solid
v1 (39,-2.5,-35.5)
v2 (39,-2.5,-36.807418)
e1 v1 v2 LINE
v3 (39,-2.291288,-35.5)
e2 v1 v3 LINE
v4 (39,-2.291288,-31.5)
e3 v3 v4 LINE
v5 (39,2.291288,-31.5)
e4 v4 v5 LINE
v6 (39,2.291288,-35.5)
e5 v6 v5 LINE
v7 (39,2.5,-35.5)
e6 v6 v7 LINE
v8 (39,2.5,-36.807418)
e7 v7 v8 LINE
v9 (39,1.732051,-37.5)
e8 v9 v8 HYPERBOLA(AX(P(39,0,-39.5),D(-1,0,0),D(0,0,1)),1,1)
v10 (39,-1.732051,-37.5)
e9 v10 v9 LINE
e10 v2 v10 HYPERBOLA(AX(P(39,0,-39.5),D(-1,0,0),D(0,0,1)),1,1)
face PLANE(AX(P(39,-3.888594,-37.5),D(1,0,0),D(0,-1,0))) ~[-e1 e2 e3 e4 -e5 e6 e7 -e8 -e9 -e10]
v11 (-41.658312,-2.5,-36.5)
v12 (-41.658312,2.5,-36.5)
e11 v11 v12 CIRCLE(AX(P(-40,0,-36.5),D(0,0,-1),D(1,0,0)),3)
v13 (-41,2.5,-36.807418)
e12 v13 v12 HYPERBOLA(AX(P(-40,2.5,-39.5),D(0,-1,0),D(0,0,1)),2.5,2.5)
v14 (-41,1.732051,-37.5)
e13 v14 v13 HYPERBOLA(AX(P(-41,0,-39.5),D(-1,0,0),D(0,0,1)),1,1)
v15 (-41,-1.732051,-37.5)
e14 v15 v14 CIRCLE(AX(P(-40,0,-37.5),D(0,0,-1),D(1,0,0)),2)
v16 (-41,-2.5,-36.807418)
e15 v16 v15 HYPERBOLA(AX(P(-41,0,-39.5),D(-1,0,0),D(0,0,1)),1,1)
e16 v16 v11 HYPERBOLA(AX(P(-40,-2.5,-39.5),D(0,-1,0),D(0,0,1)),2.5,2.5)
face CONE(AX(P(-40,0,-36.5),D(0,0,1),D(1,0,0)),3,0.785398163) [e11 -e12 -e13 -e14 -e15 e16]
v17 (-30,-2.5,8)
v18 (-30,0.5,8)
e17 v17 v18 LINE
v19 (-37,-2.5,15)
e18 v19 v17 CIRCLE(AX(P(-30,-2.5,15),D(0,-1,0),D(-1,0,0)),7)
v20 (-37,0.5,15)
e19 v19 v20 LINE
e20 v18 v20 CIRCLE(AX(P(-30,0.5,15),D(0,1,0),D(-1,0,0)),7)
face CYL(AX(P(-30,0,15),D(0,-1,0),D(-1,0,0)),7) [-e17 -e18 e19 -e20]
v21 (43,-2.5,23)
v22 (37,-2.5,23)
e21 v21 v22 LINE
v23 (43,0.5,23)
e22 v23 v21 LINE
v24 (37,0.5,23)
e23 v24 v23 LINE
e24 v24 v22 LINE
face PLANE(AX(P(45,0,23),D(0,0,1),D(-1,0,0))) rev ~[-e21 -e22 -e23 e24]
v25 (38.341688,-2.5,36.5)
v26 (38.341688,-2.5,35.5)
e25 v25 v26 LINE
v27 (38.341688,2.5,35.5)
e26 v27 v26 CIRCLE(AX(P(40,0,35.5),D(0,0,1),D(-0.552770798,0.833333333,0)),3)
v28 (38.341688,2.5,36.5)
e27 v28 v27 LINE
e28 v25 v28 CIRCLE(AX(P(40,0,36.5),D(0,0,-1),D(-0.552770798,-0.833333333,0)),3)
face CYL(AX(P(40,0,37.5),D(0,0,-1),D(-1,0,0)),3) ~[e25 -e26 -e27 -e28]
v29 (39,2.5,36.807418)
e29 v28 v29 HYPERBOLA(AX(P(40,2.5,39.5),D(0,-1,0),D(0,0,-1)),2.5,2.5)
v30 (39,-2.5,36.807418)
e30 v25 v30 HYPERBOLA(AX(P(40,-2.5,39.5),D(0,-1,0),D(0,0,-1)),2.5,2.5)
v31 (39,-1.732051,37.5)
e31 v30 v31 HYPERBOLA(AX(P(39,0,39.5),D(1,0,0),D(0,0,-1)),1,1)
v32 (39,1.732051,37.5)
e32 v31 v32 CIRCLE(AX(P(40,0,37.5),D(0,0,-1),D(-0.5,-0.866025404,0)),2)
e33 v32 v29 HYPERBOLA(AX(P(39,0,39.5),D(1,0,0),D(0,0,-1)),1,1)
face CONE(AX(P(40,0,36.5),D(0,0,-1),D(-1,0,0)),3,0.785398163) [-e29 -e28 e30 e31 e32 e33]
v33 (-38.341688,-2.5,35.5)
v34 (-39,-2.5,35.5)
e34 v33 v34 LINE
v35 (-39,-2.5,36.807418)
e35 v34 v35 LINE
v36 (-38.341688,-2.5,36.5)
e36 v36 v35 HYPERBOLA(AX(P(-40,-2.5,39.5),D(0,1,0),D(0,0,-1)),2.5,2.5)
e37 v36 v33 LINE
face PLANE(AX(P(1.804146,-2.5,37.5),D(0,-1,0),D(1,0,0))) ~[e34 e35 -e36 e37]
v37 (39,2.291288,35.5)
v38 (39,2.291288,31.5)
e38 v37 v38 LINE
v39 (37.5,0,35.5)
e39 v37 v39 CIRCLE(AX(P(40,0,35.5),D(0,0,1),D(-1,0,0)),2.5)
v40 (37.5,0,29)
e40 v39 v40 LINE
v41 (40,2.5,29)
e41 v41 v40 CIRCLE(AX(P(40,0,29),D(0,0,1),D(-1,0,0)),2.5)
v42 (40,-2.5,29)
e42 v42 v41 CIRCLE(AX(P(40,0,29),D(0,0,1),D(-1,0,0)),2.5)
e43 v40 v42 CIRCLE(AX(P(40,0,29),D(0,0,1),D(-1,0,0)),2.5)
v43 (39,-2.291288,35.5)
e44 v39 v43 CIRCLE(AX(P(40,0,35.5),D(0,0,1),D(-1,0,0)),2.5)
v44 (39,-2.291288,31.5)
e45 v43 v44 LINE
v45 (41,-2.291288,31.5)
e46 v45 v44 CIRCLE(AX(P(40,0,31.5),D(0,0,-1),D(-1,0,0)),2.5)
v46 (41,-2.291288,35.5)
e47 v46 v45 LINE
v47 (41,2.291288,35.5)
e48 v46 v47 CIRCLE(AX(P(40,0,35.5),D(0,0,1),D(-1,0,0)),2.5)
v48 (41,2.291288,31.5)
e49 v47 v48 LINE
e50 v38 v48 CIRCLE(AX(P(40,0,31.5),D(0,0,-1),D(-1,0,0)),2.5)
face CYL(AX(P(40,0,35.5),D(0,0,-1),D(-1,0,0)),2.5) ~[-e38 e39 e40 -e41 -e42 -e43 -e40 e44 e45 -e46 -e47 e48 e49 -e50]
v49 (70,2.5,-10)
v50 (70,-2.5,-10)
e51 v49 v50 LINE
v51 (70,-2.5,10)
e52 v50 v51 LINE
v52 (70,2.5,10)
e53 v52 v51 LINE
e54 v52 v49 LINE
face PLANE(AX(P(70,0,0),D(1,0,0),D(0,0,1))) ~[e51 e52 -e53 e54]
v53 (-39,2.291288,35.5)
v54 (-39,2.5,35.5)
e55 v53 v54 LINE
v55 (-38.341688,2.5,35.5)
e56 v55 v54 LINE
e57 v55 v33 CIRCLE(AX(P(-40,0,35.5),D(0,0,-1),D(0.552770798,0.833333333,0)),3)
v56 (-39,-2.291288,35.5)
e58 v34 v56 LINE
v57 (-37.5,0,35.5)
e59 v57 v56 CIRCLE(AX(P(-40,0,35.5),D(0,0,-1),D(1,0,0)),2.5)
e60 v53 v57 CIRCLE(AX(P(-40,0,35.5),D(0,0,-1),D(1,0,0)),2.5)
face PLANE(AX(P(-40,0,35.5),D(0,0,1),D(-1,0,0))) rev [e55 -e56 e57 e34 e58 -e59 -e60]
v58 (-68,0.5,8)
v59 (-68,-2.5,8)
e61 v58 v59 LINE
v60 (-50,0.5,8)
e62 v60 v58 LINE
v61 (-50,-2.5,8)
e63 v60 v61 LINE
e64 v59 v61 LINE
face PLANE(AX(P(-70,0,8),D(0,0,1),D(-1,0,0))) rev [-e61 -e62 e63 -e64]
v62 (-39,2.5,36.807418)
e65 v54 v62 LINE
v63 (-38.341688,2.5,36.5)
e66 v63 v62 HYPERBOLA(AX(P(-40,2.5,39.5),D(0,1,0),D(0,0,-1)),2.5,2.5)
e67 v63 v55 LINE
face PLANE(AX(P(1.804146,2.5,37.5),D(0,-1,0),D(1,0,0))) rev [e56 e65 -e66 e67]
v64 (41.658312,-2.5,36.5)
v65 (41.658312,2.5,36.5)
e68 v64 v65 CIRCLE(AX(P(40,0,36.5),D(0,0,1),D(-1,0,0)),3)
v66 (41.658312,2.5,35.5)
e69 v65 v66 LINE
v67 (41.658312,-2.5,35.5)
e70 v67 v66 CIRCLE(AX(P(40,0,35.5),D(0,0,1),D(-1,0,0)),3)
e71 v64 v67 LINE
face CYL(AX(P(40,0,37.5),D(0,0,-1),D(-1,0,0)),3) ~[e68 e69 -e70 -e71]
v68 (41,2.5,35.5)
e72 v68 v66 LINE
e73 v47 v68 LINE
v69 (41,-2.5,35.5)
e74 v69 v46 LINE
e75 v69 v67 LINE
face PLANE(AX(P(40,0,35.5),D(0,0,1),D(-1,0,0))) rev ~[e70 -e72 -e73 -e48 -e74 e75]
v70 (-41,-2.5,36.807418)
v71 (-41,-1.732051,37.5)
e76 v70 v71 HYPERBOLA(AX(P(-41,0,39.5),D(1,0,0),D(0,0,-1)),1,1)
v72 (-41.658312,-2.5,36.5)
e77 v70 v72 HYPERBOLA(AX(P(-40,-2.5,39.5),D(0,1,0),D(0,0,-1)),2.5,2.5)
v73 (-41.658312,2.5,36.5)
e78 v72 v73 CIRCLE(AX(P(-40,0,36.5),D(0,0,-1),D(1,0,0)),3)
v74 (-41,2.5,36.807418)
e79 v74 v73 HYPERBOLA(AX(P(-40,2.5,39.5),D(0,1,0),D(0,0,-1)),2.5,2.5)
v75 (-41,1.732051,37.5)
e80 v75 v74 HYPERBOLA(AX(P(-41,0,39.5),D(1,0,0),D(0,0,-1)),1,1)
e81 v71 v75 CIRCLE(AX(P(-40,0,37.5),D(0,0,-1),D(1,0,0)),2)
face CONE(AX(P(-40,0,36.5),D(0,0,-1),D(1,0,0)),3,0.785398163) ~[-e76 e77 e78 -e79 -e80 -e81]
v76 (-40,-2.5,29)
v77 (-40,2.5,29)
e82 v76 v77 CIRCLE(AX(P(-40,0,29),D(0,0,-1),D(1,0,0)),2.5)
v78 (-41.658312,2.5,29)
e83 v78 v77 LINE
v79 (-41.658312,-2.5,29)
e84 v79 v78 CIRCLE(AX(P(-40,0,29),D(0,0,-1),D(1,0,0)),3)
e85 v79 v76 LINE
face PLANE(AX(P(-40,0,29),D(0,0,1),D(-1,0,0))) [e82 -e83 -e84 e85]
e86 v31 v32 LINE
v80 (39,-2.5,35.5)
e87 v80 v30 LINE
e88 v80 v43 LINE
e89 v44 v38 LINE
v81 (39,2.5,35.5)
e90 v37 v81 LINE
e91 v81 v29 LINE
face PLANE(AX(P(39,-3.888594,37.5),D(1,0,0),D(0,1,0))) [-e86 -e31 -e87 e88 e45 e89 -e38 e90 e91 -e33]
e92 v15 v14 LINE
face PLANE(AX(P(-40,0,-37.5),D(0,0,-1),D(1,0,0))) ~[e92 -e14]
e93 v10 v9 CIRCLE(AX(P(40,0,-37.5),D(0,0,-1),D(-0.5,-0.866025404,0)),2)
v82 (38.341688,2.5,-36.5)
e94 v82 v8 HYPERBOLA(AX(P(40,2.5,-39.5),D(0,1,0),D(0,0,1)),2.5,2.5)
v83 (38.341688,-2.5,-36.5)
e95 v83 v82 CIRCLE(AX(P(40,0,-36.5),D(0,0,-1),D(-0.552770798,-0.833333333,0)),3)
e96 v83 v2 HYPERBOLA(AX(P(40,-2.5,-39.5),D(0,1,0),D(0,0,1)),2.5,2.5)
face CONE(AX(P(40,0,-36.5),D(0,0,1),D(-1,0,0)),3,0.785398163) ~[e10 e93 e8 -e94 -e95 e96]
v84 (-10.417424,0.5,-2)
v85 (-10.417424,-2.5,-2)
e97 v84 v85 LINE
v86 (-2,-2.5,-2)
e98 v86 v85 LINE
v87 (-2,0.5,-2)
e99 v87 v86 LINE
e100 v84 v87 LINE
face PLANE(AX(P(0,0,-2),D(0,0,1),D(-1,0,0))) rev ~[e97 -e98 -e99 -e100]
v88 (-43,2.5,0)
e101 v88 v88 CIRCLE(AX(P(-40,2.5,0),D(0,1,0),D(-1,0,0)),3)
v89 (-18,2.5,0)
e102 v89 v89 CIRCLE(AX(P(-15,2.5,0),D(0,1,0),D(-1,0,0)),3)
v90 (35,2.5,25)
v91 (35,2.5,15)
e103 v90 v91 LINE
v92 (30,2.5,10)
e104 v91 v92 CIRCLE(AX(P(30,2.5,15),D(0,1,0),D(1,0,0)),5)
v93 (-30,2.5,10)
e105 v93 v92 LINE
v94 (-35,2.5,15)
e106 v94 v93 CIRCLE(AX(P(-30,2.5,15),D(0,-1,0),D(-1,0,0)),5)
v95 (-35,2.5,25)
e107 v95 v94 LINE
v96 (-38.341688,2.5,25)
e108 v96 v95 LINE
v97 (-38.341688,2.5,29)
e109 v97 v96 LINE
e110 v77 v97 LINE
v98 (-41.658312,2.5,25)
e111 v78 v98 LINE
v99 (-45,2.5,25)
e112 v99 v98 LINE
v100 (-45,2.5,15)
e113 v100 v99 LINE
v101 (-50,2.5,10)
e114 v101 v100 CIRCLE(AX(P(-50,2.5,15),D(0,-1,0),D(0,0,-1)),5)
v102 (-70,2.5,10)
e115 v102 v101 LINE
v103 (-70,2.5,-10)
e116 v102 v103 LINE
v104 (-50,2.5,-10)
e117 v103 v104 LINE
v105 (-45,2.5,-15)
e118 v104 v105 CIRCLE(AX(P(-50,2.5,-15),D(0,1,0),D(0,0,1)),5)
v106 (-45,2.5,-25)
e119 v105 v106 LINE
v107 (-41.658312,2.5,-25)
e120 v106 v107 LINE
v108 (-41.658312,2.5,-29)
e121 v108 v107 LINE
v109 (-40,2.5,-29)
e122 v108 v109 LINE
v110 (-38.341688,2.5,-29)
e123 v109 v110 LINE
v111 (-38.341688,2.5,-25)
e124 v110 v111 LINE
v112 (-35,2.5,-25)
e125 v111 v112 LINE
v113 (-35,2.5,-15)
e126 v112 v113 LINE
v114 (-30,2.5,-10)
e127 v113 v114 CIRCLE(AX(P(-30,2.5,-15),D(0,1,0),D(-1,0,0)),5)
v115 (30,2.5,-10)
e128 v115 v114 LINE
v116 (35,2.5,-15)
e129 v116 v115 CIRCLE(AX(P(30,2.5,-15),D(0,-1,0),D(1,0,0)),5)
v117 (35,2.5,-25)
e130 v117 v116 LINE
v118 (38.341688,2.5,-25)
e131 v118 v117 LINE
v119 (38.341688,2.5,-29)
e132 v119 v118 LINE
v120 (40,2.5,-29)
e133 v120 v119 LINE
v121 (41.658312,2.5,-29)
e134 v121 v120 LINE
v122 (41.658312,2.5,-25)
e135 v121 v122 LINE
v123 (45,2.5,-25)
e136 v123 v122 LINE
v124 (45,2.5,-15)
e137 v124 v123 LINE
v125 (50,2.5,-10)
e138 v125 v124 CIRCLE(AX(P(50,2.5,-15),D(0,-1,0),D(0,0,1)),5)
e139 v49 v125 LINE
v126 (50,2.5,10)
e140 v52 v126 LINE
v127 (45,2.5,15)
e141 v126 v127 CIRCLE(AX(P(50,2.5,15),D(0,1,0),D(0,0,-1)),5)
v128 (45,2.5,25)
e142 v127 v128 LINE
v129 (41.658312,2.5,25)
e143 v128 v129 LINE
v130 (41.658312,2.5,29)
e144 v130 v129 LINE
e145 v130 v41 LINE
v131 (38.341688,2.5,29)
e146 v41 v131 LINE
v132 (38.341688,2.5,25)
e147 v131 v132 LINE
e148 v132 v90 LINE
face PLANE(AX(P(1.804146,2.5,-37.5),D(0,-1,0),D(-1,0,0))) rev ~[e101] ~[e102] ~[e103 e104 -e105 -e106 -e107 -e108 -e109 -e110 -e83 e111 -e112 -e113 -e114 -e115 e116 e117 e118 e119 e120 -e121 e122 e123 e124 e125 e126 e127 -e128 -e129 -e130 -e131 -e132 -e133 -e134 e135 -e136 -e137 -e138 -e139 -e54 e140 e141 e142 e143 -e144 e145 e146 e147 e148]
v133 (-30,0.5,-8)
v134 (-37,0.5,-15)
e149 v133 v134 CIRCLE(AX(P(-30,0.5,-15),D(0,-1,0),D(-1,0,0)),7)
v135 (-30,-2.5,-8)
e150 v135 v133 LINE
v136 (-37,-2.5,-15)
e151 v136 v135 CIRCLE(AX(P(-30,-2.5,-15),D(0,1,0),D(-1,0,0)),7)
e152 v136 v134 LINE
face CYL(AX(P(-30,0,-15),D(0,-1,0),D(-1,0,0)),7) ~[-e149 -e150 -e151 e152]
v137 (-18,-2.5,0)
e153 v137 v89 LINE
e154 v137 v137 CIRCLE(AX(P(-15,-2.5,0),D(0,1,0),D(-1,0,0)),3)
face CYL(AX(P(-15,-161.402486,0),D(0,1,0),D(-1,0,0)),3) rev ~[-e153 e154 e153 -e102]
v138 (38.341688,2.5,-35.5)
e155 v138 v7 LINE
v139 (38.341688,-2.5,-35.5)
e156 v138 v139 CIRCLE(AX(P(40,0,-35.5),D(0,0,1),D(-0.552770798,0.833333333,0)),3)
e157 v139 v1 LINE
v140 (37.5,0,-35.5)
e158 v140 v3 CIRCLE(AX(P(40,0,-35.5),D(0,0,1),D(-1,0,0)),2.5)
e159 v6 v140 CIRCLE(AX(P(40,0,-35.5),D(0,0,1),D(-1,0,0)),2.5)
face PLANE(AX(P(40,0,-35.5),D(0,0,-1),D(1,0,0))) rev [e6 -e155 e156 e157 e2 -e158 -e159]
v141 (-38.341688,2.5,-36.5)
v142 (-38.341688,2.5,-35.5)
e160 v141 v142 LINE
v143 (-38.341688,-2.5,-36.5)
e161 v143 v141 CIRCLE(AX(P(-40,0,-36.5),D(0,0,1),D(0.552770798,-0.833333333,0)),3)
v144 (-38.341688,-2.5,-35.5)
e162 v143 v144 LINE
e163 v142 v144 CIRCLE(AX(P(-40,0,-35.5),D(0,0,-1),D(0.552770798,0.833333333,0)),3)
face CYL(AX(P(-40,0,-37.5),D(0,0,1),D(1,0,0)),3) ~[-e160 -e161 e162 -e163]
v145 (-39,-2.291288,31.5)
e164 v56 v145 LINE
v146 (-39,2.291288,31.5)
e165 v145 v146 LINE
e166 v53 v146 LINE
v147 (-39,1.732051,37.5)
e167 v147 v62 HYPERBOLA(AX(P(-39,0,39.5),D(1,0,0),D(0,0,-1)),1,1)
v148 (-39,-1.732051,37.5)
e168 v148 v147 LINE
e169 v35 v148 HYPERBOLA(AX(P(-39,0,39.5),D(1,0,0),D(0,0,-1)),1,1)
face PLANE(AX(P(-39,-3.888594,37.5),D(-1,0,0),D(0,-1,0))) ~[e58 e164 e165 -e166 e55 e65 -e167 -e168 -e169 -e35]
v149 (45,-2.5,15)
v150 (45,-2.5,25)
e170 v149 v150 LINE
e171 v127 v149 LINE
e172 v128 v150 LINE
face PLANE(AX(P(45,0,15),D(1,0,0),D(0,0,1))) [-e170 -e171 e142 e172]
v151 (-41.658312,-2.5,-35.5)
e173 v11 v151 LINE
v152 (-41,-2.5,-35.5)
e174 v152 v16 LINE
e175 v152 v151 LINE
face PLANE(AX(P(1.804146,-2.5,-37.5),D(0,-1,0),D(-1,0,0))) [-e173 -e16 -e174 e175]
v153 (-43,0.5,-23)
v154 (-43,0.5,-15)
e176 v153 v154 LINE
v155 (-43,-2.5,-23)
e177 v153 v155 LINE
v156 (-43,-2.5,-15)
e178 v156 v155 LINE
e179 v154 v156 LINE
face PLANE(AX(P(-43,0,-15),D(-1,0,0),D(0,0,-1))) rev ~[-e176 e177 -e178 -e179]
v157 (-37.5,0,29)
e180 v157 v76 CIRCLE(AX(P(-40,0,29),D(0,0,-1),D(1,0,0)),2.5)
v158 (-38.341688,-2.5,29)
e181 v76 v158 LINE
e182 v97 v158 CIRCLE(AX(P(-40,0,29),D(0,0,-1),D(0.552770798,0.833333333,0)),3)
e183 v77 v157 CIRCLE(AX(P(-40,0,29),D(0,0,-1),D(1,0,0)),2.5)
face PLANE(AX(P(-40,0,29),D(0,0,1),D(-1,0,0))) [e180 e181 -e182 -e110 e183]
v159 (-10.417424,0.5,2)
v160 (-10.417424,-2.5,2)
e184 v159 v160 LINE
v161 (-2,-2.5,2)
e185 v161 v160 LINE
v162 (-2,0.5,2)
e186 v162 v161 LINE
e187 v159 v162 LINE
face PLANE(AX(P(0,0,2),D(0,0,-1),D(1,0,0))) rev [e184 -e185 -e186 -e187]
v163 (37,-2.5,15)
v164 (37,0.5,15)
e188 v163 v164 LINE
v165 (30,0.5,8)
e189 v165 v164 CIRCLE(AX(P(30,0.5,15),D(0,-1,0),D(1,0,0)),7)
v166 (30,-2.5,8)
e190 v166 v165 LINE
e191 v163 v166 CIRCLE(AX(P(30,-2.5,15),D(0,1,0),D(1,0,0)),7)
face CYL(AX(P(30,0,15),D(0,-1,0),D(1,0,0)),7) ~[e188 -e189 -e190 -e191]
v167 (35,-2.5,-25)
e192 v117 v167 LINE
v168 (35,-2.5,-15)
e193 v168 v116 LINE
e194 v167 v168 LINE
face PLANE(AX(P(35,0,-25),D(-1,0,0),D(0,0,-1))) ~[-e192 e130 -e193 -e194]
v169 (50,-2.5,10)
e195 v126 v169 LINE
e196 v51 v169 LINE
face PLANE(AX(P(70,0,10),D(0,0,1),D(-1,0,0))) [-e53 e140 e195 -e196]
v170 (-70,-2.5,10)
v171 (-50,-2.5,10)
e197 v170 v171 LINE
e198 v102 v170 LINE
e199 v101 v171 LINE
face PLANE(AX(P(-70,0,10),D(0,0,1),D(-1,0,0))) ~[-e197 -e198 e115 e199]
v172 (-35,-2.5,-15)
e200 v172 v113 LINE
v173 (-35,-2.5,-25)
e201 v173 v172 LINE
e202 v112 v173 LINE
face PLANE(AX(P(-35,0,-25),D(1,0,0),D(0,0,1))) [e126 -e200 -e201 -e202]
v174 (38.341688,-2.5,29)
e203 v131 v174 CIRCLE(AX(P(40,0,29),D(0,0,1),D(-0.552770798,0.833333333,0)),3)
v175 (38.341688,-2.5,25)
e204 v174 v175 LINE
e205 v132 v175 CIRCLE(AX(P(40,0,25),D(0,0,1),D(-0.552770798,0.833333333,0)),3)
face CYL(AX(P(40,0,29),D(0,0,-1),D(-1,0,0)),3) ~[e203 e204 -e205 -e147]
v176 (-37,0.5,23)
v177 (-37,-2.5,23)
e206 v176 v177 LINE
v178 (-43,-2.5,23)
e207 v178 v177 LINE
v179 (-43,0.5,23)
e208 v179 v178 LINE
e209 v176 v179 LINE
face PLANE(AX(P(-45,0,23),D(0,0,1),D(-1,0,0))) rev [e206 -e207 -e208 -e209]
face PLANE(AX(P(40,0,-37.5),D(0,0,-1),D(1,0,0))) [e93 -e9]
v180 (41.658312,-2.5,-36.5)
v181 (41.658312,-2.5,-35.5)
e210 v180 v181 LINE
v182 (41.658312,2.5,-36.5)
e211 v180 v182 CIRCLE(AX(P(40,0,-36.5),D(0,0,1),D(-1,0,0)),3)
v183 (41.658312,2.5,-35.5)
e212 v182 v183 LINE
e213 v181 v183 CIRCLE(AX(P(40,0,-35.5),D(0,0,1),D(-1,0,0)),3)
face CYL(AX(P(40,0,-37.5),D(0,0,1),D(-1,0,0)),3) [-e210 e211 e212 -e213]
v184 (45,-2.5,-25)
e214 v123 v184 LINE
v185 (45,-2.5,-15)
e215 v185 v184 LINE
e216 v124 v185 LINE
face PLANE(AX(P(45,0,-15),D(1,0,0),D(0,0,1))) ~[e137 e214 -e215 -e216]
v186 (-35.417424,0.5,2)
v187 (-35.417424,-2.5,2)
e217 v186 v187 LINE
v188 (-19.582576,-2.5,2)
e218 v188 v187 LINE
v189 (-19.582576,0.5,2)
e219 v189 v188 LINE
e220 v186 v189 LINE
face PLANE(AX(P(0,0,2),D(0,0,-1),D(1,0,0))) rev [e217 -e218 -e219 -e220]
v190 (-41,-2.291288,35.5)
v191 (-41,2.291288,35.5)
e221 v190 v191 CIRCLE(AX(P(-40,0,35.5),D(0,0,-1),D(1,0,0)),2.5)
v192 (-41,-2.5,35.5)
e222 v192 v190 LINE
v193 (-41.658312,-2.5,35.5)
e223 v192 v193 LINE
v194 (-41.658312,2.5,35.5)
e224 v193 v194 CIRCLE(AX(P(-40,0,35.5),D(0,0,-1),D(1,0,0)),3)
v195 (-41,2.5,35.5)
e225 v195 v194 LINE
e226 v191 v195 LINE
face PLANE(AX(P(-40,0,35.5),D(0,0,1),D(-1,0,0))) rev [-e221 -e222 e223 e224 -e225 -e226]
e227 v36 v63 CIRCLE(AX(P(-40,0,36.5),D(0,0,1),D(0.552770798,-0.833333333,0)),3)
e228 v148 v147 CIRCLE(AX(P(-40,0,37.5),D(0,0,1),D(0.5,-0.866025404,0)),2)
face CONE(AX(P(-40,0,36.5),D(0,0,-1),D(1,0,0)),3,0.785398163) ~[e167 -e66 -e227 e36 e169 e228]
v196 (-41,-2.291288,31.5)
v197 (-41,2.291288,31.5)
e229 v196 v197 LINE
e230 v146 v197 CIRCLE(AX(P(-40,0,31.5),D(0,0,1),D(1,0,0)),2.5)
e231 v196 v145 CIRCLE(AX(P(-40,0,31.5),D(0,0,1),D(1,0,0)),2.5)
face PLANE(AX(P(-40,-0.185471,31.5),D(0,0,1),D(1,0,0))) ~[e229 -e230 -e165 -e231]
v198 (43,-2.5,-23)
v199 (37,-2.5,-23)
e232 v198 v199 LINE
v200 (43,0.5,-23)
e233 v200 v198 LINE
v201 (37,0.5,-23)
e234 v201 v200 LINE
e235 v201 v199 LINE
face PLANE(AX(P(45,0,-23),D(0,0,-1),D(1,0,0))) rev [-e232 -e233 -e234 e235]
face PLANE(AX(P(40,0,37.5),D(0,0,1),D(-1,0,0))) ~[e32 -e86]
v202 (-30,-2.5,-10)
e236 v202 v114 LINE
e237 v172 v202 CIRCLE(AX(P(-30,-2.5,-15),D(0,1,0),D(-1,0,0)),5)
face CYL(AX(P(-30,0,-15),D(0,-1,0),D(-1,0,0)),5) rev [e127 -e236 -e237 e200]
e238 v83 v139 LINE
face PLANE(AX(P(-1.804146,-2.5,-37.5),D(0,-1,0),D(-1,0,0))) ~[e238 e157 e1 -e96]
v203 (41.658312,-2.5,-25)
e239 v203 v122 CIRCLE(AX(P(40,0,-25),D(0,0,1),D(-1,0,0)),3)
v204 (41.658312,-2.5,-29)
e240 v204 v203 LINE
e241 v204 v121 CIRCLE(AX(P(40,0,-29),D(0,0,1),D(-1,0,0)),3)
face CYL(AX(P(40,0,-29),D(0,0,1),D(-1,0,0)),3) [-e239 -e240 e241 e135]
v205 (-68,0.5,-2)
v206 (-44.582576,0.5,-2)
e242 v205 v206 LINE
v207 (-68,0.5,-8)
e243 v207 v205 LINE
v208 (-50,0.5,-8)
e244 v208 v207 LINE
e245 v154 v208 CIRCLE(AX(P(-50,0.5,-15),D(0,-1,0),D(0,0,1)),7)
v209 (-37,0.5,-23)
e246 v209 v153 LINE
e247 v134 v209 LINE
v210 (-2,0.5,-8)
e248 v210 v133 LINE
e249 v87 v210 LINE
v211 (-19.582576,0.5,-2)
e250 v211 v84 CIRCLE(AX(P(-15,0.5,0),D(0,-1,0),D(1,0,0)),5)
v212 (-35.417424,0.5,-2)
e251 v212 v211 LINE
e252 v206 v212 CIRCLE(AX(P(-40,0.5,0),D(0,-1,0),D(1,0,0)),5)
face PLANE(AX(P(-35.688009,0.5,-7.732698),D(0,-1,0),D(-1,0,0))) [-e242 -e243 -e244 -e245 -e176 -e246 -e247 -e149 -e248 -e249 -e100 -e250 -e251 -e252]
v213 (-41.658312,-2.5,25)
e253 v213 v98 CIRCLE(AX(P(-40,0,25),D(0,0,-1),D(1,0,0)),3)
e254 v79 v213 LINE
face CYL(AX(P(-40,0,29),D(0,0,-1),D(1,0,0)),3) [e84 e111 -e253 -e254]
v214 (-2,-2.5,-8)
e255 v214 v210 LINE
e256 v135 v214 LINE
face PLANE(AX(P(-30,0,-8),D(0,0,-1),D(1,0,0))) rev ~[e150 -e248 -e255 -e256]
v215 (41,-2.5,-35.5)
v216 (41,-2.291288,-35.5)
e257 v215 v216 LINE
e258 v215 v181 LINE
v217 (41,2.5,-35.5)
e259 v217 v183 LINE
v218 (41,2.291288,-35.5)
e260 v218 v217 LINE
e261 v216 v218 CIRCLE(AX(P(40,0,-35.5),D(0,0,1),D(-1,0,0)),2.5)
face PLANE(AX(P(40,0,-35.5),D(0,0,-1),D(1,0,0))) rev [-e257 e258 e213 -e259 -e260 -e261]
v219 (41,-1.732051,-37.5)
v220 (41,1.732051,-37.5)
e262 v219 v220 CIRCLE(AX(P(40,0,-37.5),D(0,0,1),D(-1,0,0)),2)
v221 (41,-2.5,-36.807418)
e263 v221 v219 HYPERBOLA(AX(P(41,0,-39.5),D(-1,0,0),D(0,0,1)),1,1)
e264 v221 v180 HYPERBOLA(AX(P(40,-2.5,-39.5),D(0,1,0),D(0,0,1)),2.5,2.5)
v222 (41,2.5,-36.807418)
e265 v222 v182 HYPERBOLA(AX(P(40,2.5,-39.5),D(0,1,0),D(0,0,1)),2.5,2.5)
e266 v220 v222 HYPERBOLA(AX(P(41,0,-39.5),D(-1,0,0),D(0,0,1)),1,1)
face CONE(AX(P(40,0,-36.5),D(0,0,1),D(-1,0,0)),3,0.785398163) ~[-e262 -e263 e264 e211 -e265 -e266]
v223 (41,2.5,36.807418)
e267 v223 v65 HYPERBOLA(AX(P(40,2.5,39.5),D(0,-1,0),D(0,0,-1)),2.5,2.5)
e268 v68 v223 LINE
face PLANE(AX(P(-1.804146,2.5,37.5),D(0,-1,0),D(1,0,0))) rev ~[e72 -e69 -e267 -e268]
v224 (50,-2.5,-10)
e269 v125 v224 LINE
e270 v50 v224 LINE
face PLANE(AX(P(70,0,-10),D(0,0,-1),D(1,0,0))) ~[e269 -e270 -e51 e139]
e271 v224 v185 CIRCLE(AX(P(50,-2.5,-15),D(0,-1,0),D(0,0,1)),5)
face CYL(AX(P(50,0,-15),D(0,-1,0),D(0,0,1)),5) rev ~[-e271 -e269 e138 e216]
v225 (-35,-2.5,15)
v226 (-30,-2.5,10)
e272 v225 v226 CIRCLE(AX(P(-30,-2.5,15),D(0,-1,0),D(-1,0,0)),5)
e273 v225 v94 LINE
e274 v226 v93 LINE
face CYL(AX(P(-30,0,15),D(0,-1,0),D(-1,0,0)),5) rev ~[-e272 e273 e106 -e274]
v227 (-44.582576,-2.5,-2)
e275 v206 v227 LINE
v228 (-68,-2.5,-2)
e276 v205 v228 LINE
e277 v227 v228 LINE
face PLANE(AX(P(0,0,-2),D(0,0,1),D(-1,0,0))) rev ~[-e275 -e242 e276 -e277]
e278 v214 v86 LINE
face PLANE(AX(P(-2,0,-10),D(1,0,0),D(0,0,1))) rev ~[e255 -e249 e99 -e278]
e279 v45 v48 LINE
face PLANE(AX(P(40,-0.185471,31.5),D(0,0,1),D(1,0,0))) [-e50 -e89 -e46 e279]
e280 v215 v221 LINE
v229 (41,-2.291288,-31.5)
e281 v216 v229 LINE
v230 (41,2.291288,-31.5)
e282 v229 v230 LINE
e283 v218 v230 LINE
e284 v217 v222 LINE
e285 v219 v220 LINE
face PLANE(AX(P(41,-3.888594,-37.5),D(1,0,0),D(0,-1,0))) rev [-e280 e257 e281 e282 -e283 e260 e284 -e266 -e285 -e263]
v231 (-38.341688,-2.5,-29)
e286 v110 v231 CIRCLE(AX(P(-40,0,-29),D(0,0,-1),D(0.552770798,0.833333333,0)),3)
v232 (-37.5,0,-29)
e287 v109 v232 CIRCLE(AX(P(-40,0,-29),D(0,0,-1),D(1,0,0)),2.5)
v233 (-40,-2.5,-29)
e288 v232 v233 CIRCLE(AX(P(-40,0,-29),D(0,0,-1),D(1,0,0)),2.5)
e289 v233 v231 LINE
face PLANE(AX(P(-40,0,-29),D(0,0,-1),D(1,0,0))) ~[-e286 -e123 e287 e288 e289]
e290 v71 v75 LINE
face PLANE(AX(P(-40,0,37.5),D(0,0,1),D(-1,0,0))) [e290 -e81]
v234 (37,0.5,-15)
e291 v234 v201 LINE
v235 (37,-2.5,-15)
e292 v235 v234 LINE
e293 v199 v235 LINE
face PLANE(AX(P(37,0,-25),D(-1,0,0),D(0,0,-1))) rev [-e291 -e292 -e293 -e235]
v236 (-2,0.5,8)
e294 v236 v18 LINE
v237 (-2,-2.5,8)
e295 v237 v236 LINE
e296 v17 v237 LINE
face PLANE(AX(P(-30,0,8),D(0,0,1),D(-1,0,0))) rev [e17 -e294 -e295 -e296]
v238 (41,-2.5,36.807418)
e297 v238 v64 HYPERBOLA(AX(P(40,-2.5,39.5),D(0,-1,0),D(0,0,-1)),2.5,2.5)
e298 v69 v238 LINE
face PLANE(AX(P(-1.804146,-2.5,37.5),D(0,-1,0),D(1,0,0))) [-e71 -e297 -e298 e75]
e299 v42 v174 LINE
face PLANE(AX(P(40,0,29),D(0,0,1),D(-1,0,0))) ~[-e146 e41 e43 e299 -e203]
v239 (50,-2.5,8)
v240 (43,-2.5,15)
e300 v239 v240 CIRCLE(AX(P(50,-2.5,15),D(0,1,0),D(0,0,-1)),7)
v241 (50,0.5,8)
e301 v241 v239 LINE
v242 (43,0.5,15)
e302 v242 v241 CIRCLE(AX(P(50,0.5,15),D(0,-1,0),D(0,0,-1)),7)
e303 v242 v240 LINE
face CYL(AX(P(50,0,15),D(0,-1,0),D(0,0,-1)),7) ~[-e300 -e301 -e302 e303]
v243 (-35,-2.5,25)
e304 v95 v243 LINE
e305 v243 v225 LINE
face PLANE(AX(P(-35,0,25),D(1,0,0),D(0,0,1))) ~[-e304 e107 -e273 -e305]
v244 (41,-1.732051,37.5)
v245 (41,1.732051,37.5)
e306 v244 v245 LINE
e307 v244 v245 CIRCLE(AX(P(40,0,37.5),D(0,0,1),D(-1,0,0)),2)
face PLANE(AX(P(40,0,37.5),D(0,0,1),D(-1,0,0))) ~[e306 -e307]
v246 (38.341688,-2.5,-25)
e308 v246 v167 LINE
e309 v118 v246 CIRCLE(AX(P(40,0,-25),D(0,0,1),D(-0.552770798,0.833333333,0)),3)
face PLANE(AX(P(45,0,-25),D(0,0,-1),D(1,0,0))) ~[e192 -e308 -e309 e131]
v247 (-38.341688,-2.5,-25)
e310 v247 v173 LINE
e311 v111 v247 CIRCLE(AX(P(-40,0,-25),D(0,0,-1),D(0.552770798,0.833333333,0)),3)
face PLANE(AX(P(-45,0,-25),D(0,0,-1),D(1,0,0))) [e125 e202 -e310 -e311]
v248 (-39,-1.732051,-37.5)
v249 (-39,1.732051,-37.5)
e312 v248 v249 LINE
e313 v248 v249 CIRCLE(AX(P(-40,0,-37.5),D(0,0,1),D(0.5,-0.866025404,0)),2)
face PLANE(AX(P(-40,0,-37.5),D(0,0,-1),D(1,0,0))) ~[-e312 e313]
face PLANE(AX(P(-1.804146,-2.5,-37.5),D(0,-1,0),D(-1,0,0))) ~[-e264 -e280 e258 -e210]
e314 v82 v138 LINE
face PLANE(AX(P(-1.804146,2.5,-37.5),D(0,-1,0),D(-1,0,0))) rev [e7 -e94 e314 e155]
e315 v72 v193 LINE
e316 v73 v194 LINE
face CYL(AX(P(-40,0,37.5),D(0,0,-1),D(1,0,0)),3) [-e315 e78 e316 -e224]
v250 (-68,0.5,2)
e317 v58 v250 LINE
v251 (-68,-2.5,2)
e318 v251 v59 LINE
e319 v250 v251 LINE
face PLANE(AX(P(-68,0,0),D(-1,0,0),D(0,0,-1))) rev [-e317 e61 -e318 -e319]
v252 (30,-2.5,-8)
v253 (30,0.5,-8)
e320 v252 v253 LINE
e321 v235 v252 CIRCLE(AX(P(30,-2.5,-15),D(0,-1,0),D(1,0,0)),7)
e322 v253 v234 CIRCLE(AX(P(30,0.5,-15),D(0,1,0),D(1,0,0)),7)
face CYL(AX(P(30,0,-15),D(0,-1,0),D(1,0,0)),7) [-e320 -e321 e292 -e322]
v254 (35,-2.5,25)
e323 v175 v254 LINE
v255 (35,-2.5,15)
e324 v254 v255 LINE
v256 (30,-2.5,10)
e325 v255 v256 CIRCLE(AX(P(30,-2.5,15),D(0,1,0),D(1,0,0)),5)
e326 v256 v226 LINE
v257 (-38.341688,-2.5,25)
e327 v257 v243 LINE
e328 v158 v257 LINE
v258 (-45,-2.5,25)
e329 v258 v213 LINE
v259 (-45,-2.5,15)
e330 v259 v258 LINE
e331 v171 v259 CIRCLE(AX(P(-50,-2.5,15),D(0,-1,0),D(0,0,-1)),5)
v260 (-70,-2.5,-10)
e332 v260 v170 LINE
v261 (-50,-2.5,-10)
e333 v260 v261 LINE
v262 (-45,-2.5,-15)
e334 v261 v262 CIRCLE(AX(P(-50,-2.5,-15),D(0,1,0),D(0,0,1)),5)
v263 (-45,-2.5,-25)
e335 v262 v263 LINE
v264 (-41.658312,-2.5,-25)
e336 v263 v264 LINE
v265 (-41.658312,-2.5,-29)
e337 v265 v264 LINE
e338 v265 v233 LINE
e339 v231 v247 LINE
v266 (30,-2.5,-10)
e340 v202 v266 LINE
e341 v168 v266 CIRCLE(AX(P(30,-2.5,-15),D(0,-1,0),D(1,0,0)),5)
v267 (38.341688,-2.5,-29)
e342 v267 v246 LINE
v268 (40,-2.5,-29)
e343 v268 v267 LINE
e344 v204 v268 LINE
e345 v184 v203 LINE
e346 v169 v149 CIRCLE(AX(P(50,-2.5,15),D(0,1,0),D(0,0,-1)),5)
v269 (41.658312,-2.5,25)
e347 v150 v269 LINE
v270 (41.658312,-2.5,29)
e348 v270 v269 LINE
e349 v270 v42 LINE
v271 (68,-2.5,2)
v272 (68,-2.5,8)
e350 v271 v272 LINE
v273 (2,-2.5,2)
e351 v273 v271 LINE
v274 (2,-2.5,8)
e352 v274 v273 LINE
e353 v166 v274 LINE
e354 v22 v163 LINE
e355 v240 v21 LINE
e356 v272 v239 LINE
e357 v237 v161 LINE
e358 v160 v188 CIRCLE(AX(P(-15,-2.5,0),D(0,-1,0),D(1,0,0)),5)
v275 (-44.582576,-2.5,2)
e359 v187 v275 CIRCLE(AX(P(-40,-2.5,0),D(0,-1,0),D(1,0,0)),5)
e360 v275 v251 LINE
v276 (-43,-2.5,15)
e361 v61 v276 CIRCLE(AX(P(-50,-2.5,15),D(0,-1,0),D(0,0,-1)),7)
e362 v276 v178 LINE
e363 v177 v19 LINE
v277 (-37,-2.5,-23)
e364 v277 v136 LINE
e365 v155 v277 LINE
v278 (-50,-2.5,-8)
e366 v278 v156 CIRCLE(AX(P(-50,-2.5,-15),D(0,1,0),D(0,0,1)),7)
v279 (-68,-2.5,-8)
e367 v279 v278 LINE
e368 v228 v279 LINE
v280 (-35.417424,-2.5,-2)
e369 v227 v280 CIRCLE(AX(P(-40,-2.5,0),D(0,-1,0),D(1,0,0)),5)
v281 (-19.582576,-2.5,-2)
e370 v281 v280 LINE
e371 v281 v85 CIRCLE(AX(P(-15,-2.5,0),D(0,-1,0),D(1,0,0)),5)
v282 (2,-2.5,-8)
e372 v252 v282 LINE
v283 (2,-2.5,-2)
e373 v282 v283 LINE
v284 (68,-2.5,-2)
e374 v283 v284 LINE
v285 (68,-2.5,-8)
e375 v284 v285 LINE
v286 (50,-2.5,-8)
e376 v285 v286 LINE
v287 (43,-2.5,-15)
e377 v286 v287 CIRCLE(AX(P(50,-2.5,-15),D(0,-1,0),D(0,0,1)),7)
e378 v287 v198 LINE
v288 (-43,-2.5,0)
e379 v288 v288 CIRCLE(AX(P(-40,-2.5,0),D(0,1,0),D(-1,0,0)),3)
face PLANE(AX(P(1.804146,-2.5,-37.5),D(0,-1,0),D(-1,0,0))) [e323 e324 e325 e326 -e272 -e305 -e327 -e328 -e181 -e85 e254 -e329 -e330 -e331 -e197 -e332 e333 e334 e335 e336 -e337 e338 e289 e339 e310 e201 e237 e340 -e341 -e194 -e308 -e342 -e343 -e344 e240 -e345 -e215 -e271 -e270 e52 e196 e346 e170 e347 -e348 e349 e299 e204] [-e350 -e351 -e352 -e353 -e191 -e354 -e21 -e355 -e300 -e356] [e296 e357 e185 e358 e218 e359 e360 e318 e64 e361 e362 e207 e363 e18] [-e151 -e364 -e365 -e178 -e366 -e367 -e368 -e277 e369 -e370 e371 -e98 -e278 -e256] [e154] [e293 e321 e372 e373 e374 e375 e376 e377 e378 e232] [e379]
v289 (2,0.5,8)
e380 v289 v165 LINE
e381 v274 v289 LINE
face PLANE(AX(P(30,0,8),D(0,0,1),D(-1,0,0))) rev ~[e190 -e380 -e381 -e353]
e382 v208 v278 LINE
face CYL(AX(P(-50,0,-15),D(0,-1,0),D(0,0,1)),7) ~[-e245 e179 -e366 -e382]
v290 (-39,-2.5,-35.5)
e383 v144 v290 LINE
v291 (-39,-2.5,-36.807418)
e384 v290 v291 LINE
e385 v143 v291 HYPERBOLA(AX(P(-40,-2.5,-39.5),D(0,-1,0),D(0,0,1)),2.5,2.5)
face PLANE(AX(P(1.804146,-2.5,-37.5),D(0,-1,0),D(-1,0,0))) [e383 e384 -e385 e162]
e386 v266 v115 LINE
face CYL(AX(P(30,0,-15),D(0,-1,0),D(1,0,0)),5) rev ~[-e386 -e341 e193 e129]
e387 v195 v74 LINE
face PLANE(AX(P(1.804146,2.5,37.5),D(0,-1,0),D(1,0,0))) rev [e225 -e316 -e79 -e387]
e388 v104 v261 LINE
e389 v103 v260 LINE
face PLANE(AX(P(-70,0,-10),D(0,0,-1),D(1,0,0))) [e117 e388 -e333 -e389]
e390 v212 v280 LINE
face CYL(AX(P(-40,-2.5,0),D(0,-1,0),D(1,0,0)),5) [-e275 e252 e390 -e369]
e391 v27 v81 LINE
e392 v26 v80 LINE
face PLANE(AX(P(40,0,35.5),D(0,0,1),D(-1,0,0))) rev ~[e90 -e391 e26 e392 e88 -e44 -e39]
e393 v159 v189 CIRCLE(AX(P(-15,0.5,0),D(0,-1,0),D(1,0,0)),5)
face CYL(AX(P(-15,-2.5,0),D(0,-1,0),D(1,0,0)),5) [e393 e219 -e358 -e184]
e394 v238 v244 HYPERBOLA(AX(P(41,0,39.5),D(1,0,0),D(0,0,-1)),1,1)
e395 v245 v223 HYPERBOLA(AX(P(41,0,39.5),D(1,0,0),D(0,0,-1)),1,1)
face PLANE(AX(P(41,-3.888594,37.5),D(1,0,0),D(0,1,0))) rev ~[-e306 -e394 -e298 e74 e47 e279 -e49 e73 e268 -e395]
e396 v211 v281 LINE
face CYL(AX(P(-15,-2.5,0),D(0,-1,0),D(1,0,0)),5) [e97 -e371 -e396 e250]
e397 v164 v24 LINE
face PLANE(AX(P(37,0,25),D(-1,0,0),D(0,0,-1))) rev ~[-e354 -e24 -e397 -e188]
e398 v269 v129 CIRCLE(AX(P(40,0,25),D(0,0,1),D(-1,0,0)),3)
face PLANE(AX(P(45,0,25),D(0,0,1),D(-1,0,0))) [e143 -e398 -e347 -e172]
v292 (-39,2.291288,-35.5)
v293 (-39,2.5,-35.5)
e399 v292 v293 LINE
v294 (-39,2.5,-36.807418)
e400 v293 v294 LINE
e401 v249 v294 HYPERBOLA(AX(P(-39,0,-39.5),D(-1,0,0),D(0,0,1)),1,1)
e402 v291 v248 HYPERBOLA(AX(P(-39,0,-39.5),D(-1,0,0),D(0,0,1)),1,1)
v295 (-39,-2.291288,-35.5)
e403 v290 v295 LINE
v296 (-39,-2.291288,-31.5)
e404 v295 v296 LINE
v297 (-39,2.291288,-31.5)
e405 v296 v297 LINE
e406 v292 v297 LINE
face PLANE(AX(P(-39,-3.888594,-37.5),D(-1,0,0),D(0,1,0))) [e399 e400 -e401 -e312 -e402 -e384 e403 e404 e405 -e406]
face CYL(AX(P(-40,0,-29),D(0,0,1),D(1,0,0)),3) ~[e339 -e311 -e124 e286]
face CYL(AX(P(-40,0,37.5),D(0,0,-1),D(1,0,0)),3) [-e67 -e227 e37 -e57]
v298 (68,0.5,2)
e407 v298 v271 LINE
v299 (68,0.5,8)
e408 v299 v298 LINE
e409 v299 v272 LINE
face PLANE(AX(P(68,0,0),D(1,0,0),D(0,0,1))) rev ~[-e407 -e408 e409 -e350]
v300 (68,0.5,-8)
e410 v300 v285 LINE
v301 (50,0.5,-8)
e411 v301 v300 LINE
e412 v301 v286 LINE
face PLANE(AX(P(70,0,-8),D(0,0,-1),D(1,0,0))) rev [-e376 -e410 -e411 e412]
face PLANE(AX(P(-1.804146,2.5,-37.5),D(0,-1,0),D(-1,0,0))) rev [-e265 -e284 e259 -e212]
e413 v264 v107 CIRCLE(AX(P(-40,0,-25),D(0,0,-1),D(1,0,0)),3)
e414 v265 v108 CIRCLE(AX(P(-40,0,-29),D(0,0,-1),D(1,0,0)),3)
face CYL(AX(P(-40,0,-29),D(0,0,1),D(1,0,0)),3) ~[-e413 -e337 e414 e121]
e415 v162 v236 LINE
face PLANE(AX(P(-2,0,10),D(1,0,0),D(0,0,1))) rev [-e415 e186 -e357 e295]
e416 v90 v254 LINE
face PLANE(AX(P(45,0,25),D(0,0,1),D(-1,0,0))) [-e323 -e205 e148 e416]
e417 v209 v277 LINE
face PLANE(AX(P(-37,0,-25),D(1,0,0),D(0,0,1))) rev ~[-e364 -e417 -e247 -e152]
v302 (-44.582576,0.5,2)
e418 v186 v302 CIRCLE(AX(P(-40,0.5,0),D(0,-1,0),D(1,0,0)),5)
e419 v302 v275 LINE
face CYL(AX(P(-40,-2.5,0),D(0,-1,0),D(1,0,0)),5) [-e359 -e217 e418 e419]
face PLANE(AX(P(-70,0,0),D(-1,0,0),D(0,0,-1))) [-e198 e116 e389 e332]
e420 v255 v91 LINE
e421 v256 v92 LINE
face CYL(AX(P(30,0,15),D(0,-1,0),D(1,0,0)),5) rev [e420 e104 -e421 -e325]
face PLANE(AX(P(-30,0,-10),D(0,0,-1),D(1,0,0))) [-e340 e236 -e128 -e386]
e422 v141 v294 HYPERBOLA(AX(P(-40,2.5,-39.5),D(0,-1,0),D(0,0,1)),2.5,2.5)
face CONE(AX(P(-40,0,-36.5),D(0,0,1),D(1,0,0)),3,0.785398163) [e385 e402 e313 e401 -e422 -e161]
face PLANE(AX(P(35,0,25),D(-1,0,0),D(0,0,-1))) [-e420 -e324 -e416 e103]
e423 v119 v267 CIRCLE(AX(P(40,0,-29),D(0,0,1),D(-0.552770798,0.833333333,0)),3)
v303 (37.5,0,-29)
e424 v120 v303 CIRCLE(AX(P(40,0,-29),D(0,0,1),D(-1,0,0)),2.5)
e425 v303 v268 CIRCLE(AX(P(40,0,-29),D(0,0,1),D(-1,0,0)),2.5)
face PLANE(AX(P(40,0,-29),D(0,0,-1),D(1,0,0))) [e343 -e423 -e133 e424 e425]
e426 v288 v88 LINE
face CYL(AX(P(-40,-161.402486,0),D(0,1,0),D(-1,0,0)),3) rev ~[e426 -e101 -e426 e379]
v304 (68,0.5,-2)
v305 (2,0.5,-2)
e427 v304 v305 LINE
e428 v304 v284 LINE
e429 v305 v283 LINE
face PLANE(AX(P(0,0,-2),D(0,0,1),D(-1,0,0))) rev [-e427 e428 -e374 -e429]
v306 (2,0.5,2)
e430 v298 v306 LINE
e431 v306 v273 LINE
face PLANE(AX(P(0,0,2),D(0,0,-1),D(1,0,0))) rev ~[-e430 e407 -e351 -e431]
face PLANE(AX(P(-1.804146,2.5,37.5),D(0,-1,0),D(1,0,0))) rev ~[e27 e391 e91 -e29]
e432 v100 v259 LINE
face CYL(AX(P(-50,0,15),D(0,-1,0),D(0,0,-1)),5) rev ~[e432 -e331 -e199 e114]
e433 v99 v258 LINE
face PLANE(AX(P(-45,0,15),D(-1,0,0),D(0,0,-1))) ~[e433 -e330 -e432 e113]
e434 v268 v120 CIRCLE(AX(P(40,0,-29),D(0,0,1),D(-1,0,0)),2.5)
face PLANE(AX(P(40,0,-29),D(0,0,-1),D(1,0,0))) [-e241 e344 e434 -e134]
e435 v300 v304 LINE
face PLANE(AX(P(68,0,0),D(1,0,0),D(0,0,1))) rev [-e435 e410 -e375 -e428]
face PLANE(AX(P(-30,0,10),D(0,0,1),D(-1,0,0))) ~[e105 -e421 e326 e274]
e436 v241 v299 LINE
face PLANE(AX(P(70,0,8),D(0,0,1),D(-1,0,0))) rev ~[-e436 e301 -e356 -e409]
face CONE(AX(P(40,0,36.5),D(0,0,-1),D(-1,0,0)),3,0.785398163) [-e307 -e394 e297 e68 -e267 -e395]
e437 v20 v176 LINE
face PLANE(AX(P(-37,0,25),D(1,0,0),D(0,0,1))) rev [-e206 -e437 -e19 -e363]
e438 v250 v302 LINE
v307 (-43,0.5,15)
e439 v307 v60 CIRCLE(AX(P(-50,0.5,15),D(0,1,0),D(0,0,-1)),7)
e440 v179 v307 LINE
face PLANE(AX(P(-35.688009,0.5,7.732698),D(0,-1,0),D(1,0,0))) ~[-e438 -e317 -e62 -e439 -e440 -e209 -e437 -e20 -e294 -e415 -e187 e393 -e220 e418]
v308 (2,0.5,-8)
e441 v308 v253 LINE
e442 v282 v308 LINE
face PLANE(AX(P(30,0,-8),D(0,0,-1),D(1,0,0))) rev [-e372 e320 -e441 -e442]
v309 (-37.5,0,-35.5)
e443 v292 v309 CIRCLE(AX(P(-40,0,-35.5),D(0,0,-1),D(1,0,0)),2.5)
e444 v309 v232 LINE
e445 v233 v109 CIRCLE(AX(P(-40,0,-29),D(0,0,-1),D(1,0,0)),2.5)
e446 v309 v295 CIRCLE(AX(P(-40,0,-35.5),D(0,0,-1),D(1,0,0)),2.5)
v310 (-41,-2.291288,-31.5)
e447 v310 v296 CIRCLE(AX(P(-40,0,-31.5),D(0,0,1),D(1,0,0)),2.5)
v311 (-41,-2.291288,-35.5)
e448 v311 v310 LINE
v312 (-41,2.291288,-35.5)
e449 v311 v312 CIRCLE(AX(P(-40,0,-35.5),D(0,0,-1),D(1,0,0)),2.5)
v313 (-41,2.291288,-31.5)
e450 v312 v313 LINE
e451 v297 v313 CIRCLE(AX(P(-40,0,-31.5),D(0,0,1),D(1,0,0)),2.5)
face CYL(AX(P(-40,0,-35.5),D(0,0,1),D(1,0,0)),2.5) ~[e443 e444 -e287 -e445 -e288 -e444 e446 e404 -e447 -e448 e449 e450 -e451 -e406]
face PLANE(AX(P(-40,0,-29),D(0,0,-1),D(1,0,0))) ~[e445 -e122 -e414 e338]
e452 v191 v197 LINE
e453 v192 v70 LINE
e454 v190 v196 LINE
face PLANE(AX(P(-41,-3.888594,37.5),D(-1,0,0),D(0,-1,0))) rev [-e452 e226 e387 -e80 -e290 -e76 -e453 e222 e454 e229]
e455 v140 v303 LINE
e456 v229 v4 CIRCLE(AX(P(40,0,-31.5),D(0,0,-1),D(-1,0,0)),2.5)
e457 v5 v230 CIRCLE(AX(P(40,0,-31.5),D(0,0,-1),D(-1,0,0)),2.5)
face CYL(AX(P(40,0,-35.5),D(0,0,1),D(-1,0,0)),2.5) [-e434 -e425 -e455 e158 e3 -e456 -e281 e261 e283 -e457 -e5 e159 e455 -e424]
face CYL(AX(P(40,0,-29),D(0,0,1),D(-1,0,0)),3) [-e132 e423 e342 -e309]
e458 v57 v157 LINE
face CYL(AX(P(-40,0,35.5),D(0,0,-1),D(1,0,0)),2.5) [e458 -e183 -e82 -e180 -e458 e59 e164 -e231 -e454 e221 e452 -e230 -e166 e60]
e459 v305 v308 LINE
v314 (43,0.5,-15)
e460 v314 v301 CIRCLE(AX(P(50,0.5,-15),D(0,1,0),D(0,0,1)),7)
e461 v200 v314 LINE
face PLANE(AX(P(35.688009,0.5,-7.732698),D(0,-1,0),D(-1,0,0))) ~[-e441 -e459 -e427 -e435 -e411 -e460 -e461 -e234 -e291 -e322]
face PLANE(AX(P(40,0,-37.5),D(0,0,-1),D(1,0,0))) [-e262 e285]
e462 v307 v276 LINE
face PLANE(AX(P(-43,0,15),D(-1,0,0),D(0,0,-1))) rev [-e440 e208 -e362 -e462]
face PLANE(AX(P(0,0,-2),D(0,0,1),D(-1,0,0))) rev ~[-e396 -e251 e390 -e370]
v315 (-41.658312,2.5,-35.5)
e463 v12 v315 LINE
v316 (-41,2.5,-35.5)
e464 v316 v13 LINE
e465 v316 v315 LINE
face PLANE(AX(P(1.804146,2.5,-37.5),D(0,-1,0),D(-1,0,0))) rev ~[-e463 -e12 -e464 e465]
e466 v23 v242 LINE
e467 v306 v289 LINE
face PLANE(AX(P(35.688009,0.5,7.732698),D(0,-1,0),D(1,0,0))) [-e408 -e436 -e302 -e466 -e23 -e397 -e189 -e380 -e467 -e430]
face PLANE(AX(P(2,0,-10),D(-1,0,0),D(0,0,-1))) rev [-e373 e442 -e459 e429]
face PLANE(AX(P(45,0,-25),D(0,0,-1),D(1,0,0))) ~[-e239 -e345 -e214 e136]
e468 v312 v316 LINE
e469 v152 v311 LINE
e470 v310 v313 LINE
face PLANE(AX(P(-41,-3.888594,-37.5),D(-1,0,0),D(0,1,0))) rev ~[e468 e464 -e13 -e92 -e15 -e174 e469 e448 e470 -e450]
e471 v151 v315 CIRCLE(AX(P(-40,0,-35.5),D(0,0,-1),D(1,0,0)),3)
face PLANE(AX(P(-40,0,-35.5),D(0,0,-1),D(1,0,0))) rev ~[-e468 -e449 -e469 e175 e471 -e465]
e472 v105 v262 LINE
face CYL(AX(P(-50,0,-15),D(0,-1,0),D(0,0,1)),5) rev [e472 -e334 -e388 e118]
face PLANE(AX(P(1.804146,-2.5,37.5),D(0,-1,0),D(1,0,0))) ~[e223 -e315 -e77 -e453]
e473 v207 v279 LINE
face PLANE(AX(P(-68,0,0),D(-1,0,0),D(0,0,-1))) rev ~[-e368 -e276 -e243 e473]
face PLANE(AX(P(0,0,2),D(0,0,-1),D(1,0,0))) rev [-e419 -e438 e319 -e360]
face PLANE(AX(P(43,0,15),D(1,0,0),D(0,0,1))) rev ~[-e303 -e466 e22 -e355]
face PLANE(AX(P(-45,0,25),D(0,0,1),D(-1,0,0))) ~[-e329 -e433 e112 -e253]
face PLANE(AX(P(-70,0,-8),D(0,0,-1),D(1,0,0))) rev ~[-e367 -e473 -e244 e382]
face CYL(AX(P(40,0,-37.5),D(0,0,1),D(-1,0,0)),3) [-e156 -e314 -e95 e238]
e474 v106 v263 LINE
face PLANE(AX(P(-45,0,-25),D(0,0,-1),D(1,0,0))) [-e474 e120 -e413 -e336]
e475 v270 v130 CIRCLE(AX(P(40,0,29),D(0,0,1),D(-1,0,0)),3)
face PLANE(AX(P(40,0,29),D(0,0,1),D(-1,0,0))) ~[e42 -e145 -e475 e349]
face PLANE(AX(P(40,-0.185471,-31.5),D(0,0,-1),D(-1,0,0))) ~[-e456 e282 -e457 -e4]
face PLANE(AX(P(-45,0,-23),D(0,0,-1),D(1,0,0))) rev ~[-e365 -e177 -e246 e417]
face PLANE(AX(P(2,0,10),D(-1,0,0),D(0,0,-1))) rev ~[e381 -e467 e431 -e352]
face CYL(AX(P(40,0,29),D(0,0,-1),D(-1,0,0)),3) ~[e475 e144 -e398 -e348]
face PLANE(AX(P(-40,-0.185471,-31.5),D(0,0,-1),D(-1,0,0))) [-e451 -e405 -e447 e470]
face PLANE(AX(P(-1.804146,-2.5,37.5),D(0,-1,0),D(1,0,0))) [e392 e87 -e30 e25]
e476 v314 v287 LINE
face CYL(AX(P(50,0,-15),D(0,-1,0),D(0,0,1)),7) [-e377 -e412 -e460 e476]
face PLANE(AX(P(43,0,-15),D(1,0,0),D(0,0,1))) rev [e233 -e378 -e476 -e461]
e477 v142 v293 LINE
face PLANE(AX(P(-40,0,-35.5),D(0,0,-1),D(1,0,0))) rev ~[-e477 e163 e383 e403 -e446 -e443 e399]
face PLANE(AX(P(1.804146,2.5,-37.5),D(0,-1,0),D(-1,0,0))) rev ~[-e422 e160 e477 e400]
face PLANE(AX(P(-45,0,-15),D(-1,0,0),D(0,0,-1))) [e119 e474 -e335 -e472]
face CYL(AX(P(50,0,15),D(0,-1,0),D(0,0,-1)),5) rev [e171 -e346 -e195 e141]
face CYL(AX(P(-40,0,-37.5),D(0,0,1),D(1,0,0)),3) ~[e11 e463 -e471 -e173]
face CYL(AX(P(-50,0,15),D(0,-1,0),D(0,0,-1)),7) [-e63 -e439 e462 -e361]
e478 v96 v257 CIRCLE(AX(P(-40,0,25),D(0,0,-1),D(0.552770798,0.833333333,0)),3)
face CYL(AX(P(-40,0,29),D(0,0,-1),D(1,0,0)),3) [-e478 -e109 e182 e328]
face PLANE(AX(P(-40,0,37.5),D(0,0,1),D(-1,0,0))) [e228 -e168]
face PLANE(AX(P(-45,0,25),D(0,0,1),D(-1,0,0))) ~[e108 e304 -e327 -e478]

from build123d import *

# Parameters (mm, degrees)
F1_DEPTH  = 2.5
F2_T      = -2
F5_SIZE   = 1
F6_W      = 73.7499899587
F6_H      = 5
F7_DEPTH  = 37.501
F8_W      = 2
F8_H      = 7.4062455549
F9_DEPTH  = 6
F12_R     = 5
F13_DEPTH = 5
F15_D     = 6


with BuildPart() as f1:
    # F0 (on Front) → F1 (new body, symmetric)
    with BuildSketch(Plane.XZ):
        with BuildLine():
            Line((0, 10), (0, 0))
            Line((0, 0), (70, 0))
            Line((70, 0), (70, 10))
            Line((70, 10), (50, 10))
            ThreePointArc((50, 10), (46.4644660941, 11.4644660941), (45, 15))
            Line((45, 15), (45, 25))
            Line((45, 25), (35, 25))
            Line((35, 25), (35, 15))
            ThreePointArc((35, 15), (33.5355339059, 11.4644660941), (30, 10))
            Line((30, 10), (0, 10))
        make_face()
    extrude(amount=F1_DEPTH, both=True)

    # F2
    f2_openings = [f1.faces().sort_by_distance(p)[0] for p in [
        (35.933685, -2.5, 7.254637),
    ]]
    offset(amount=F2_T, openings=f2_openings)

    # F3 (on Front) → F4 (revolve)
    with BuildSketch(Plane.XZ):
        Polygon((37, 25), (40, 25), (40, 37.5), (37, 37.5), (37, 35.5), (37.5, 35.5), (37.5, 29), (37, 29), align=None)
    revolve(axis=Axis((40, 0, 31.25), (0, 0, 1)))

    # F5
    f5_edges = [f1.edges().sort_by_distance(p)[0] for p in [
        (43, 0, 37.5),
    ]]
    chamfer(f5_edges, length=F5_SIZE)

    # F6 (on face) → F7 (intersect, through all)
    with BuildSketch(Plane.XY.offset(37.5)):
        with Locations((35.0708486512, 0)):
            Rectangle(F6_W, F6_H)
    extrude(amount=-F7_DEPTH, mode=Mode.INTERSECT)

    # F8 (on face) → F9 (cut)
    with BuildSketch(Plane.XY.offset(37.5)):
        with Locations((40, -0.1854714938)):
            Rectangle(F8_W, F8_H)
    extrude(amount=-F9_DEPTH, mode=Mode.SUBTRACT)

    # F10: F1 across plane


with BuildPart() as f1_1:
    add(f1.part)
    add(f1.part.mirror(Plane.XY))

    # F11: F1 across plane


with BuildPart() as f1_2:
    add(f1_1.part)
    add(f1_1.part.mirror(Plane.YZ))

    # F12 (on face) → F13 (join, through all)
    with BuildSketch(Plane.XZ.offset(2.5)):
        with Locations((-40, 0)):
            Circle(F12_R)
        with Locations((-15, 0)):
            Circle(F12_R)
    extrude(amount=-F13_DEPTH)

    # F15 (through all)
    with Locations(Plane.XZ.offset(2.5)):
        with Locations((-40, 0), (-15, 0)):
            Hole(F15_D / 2)


solid = f1_2.part
